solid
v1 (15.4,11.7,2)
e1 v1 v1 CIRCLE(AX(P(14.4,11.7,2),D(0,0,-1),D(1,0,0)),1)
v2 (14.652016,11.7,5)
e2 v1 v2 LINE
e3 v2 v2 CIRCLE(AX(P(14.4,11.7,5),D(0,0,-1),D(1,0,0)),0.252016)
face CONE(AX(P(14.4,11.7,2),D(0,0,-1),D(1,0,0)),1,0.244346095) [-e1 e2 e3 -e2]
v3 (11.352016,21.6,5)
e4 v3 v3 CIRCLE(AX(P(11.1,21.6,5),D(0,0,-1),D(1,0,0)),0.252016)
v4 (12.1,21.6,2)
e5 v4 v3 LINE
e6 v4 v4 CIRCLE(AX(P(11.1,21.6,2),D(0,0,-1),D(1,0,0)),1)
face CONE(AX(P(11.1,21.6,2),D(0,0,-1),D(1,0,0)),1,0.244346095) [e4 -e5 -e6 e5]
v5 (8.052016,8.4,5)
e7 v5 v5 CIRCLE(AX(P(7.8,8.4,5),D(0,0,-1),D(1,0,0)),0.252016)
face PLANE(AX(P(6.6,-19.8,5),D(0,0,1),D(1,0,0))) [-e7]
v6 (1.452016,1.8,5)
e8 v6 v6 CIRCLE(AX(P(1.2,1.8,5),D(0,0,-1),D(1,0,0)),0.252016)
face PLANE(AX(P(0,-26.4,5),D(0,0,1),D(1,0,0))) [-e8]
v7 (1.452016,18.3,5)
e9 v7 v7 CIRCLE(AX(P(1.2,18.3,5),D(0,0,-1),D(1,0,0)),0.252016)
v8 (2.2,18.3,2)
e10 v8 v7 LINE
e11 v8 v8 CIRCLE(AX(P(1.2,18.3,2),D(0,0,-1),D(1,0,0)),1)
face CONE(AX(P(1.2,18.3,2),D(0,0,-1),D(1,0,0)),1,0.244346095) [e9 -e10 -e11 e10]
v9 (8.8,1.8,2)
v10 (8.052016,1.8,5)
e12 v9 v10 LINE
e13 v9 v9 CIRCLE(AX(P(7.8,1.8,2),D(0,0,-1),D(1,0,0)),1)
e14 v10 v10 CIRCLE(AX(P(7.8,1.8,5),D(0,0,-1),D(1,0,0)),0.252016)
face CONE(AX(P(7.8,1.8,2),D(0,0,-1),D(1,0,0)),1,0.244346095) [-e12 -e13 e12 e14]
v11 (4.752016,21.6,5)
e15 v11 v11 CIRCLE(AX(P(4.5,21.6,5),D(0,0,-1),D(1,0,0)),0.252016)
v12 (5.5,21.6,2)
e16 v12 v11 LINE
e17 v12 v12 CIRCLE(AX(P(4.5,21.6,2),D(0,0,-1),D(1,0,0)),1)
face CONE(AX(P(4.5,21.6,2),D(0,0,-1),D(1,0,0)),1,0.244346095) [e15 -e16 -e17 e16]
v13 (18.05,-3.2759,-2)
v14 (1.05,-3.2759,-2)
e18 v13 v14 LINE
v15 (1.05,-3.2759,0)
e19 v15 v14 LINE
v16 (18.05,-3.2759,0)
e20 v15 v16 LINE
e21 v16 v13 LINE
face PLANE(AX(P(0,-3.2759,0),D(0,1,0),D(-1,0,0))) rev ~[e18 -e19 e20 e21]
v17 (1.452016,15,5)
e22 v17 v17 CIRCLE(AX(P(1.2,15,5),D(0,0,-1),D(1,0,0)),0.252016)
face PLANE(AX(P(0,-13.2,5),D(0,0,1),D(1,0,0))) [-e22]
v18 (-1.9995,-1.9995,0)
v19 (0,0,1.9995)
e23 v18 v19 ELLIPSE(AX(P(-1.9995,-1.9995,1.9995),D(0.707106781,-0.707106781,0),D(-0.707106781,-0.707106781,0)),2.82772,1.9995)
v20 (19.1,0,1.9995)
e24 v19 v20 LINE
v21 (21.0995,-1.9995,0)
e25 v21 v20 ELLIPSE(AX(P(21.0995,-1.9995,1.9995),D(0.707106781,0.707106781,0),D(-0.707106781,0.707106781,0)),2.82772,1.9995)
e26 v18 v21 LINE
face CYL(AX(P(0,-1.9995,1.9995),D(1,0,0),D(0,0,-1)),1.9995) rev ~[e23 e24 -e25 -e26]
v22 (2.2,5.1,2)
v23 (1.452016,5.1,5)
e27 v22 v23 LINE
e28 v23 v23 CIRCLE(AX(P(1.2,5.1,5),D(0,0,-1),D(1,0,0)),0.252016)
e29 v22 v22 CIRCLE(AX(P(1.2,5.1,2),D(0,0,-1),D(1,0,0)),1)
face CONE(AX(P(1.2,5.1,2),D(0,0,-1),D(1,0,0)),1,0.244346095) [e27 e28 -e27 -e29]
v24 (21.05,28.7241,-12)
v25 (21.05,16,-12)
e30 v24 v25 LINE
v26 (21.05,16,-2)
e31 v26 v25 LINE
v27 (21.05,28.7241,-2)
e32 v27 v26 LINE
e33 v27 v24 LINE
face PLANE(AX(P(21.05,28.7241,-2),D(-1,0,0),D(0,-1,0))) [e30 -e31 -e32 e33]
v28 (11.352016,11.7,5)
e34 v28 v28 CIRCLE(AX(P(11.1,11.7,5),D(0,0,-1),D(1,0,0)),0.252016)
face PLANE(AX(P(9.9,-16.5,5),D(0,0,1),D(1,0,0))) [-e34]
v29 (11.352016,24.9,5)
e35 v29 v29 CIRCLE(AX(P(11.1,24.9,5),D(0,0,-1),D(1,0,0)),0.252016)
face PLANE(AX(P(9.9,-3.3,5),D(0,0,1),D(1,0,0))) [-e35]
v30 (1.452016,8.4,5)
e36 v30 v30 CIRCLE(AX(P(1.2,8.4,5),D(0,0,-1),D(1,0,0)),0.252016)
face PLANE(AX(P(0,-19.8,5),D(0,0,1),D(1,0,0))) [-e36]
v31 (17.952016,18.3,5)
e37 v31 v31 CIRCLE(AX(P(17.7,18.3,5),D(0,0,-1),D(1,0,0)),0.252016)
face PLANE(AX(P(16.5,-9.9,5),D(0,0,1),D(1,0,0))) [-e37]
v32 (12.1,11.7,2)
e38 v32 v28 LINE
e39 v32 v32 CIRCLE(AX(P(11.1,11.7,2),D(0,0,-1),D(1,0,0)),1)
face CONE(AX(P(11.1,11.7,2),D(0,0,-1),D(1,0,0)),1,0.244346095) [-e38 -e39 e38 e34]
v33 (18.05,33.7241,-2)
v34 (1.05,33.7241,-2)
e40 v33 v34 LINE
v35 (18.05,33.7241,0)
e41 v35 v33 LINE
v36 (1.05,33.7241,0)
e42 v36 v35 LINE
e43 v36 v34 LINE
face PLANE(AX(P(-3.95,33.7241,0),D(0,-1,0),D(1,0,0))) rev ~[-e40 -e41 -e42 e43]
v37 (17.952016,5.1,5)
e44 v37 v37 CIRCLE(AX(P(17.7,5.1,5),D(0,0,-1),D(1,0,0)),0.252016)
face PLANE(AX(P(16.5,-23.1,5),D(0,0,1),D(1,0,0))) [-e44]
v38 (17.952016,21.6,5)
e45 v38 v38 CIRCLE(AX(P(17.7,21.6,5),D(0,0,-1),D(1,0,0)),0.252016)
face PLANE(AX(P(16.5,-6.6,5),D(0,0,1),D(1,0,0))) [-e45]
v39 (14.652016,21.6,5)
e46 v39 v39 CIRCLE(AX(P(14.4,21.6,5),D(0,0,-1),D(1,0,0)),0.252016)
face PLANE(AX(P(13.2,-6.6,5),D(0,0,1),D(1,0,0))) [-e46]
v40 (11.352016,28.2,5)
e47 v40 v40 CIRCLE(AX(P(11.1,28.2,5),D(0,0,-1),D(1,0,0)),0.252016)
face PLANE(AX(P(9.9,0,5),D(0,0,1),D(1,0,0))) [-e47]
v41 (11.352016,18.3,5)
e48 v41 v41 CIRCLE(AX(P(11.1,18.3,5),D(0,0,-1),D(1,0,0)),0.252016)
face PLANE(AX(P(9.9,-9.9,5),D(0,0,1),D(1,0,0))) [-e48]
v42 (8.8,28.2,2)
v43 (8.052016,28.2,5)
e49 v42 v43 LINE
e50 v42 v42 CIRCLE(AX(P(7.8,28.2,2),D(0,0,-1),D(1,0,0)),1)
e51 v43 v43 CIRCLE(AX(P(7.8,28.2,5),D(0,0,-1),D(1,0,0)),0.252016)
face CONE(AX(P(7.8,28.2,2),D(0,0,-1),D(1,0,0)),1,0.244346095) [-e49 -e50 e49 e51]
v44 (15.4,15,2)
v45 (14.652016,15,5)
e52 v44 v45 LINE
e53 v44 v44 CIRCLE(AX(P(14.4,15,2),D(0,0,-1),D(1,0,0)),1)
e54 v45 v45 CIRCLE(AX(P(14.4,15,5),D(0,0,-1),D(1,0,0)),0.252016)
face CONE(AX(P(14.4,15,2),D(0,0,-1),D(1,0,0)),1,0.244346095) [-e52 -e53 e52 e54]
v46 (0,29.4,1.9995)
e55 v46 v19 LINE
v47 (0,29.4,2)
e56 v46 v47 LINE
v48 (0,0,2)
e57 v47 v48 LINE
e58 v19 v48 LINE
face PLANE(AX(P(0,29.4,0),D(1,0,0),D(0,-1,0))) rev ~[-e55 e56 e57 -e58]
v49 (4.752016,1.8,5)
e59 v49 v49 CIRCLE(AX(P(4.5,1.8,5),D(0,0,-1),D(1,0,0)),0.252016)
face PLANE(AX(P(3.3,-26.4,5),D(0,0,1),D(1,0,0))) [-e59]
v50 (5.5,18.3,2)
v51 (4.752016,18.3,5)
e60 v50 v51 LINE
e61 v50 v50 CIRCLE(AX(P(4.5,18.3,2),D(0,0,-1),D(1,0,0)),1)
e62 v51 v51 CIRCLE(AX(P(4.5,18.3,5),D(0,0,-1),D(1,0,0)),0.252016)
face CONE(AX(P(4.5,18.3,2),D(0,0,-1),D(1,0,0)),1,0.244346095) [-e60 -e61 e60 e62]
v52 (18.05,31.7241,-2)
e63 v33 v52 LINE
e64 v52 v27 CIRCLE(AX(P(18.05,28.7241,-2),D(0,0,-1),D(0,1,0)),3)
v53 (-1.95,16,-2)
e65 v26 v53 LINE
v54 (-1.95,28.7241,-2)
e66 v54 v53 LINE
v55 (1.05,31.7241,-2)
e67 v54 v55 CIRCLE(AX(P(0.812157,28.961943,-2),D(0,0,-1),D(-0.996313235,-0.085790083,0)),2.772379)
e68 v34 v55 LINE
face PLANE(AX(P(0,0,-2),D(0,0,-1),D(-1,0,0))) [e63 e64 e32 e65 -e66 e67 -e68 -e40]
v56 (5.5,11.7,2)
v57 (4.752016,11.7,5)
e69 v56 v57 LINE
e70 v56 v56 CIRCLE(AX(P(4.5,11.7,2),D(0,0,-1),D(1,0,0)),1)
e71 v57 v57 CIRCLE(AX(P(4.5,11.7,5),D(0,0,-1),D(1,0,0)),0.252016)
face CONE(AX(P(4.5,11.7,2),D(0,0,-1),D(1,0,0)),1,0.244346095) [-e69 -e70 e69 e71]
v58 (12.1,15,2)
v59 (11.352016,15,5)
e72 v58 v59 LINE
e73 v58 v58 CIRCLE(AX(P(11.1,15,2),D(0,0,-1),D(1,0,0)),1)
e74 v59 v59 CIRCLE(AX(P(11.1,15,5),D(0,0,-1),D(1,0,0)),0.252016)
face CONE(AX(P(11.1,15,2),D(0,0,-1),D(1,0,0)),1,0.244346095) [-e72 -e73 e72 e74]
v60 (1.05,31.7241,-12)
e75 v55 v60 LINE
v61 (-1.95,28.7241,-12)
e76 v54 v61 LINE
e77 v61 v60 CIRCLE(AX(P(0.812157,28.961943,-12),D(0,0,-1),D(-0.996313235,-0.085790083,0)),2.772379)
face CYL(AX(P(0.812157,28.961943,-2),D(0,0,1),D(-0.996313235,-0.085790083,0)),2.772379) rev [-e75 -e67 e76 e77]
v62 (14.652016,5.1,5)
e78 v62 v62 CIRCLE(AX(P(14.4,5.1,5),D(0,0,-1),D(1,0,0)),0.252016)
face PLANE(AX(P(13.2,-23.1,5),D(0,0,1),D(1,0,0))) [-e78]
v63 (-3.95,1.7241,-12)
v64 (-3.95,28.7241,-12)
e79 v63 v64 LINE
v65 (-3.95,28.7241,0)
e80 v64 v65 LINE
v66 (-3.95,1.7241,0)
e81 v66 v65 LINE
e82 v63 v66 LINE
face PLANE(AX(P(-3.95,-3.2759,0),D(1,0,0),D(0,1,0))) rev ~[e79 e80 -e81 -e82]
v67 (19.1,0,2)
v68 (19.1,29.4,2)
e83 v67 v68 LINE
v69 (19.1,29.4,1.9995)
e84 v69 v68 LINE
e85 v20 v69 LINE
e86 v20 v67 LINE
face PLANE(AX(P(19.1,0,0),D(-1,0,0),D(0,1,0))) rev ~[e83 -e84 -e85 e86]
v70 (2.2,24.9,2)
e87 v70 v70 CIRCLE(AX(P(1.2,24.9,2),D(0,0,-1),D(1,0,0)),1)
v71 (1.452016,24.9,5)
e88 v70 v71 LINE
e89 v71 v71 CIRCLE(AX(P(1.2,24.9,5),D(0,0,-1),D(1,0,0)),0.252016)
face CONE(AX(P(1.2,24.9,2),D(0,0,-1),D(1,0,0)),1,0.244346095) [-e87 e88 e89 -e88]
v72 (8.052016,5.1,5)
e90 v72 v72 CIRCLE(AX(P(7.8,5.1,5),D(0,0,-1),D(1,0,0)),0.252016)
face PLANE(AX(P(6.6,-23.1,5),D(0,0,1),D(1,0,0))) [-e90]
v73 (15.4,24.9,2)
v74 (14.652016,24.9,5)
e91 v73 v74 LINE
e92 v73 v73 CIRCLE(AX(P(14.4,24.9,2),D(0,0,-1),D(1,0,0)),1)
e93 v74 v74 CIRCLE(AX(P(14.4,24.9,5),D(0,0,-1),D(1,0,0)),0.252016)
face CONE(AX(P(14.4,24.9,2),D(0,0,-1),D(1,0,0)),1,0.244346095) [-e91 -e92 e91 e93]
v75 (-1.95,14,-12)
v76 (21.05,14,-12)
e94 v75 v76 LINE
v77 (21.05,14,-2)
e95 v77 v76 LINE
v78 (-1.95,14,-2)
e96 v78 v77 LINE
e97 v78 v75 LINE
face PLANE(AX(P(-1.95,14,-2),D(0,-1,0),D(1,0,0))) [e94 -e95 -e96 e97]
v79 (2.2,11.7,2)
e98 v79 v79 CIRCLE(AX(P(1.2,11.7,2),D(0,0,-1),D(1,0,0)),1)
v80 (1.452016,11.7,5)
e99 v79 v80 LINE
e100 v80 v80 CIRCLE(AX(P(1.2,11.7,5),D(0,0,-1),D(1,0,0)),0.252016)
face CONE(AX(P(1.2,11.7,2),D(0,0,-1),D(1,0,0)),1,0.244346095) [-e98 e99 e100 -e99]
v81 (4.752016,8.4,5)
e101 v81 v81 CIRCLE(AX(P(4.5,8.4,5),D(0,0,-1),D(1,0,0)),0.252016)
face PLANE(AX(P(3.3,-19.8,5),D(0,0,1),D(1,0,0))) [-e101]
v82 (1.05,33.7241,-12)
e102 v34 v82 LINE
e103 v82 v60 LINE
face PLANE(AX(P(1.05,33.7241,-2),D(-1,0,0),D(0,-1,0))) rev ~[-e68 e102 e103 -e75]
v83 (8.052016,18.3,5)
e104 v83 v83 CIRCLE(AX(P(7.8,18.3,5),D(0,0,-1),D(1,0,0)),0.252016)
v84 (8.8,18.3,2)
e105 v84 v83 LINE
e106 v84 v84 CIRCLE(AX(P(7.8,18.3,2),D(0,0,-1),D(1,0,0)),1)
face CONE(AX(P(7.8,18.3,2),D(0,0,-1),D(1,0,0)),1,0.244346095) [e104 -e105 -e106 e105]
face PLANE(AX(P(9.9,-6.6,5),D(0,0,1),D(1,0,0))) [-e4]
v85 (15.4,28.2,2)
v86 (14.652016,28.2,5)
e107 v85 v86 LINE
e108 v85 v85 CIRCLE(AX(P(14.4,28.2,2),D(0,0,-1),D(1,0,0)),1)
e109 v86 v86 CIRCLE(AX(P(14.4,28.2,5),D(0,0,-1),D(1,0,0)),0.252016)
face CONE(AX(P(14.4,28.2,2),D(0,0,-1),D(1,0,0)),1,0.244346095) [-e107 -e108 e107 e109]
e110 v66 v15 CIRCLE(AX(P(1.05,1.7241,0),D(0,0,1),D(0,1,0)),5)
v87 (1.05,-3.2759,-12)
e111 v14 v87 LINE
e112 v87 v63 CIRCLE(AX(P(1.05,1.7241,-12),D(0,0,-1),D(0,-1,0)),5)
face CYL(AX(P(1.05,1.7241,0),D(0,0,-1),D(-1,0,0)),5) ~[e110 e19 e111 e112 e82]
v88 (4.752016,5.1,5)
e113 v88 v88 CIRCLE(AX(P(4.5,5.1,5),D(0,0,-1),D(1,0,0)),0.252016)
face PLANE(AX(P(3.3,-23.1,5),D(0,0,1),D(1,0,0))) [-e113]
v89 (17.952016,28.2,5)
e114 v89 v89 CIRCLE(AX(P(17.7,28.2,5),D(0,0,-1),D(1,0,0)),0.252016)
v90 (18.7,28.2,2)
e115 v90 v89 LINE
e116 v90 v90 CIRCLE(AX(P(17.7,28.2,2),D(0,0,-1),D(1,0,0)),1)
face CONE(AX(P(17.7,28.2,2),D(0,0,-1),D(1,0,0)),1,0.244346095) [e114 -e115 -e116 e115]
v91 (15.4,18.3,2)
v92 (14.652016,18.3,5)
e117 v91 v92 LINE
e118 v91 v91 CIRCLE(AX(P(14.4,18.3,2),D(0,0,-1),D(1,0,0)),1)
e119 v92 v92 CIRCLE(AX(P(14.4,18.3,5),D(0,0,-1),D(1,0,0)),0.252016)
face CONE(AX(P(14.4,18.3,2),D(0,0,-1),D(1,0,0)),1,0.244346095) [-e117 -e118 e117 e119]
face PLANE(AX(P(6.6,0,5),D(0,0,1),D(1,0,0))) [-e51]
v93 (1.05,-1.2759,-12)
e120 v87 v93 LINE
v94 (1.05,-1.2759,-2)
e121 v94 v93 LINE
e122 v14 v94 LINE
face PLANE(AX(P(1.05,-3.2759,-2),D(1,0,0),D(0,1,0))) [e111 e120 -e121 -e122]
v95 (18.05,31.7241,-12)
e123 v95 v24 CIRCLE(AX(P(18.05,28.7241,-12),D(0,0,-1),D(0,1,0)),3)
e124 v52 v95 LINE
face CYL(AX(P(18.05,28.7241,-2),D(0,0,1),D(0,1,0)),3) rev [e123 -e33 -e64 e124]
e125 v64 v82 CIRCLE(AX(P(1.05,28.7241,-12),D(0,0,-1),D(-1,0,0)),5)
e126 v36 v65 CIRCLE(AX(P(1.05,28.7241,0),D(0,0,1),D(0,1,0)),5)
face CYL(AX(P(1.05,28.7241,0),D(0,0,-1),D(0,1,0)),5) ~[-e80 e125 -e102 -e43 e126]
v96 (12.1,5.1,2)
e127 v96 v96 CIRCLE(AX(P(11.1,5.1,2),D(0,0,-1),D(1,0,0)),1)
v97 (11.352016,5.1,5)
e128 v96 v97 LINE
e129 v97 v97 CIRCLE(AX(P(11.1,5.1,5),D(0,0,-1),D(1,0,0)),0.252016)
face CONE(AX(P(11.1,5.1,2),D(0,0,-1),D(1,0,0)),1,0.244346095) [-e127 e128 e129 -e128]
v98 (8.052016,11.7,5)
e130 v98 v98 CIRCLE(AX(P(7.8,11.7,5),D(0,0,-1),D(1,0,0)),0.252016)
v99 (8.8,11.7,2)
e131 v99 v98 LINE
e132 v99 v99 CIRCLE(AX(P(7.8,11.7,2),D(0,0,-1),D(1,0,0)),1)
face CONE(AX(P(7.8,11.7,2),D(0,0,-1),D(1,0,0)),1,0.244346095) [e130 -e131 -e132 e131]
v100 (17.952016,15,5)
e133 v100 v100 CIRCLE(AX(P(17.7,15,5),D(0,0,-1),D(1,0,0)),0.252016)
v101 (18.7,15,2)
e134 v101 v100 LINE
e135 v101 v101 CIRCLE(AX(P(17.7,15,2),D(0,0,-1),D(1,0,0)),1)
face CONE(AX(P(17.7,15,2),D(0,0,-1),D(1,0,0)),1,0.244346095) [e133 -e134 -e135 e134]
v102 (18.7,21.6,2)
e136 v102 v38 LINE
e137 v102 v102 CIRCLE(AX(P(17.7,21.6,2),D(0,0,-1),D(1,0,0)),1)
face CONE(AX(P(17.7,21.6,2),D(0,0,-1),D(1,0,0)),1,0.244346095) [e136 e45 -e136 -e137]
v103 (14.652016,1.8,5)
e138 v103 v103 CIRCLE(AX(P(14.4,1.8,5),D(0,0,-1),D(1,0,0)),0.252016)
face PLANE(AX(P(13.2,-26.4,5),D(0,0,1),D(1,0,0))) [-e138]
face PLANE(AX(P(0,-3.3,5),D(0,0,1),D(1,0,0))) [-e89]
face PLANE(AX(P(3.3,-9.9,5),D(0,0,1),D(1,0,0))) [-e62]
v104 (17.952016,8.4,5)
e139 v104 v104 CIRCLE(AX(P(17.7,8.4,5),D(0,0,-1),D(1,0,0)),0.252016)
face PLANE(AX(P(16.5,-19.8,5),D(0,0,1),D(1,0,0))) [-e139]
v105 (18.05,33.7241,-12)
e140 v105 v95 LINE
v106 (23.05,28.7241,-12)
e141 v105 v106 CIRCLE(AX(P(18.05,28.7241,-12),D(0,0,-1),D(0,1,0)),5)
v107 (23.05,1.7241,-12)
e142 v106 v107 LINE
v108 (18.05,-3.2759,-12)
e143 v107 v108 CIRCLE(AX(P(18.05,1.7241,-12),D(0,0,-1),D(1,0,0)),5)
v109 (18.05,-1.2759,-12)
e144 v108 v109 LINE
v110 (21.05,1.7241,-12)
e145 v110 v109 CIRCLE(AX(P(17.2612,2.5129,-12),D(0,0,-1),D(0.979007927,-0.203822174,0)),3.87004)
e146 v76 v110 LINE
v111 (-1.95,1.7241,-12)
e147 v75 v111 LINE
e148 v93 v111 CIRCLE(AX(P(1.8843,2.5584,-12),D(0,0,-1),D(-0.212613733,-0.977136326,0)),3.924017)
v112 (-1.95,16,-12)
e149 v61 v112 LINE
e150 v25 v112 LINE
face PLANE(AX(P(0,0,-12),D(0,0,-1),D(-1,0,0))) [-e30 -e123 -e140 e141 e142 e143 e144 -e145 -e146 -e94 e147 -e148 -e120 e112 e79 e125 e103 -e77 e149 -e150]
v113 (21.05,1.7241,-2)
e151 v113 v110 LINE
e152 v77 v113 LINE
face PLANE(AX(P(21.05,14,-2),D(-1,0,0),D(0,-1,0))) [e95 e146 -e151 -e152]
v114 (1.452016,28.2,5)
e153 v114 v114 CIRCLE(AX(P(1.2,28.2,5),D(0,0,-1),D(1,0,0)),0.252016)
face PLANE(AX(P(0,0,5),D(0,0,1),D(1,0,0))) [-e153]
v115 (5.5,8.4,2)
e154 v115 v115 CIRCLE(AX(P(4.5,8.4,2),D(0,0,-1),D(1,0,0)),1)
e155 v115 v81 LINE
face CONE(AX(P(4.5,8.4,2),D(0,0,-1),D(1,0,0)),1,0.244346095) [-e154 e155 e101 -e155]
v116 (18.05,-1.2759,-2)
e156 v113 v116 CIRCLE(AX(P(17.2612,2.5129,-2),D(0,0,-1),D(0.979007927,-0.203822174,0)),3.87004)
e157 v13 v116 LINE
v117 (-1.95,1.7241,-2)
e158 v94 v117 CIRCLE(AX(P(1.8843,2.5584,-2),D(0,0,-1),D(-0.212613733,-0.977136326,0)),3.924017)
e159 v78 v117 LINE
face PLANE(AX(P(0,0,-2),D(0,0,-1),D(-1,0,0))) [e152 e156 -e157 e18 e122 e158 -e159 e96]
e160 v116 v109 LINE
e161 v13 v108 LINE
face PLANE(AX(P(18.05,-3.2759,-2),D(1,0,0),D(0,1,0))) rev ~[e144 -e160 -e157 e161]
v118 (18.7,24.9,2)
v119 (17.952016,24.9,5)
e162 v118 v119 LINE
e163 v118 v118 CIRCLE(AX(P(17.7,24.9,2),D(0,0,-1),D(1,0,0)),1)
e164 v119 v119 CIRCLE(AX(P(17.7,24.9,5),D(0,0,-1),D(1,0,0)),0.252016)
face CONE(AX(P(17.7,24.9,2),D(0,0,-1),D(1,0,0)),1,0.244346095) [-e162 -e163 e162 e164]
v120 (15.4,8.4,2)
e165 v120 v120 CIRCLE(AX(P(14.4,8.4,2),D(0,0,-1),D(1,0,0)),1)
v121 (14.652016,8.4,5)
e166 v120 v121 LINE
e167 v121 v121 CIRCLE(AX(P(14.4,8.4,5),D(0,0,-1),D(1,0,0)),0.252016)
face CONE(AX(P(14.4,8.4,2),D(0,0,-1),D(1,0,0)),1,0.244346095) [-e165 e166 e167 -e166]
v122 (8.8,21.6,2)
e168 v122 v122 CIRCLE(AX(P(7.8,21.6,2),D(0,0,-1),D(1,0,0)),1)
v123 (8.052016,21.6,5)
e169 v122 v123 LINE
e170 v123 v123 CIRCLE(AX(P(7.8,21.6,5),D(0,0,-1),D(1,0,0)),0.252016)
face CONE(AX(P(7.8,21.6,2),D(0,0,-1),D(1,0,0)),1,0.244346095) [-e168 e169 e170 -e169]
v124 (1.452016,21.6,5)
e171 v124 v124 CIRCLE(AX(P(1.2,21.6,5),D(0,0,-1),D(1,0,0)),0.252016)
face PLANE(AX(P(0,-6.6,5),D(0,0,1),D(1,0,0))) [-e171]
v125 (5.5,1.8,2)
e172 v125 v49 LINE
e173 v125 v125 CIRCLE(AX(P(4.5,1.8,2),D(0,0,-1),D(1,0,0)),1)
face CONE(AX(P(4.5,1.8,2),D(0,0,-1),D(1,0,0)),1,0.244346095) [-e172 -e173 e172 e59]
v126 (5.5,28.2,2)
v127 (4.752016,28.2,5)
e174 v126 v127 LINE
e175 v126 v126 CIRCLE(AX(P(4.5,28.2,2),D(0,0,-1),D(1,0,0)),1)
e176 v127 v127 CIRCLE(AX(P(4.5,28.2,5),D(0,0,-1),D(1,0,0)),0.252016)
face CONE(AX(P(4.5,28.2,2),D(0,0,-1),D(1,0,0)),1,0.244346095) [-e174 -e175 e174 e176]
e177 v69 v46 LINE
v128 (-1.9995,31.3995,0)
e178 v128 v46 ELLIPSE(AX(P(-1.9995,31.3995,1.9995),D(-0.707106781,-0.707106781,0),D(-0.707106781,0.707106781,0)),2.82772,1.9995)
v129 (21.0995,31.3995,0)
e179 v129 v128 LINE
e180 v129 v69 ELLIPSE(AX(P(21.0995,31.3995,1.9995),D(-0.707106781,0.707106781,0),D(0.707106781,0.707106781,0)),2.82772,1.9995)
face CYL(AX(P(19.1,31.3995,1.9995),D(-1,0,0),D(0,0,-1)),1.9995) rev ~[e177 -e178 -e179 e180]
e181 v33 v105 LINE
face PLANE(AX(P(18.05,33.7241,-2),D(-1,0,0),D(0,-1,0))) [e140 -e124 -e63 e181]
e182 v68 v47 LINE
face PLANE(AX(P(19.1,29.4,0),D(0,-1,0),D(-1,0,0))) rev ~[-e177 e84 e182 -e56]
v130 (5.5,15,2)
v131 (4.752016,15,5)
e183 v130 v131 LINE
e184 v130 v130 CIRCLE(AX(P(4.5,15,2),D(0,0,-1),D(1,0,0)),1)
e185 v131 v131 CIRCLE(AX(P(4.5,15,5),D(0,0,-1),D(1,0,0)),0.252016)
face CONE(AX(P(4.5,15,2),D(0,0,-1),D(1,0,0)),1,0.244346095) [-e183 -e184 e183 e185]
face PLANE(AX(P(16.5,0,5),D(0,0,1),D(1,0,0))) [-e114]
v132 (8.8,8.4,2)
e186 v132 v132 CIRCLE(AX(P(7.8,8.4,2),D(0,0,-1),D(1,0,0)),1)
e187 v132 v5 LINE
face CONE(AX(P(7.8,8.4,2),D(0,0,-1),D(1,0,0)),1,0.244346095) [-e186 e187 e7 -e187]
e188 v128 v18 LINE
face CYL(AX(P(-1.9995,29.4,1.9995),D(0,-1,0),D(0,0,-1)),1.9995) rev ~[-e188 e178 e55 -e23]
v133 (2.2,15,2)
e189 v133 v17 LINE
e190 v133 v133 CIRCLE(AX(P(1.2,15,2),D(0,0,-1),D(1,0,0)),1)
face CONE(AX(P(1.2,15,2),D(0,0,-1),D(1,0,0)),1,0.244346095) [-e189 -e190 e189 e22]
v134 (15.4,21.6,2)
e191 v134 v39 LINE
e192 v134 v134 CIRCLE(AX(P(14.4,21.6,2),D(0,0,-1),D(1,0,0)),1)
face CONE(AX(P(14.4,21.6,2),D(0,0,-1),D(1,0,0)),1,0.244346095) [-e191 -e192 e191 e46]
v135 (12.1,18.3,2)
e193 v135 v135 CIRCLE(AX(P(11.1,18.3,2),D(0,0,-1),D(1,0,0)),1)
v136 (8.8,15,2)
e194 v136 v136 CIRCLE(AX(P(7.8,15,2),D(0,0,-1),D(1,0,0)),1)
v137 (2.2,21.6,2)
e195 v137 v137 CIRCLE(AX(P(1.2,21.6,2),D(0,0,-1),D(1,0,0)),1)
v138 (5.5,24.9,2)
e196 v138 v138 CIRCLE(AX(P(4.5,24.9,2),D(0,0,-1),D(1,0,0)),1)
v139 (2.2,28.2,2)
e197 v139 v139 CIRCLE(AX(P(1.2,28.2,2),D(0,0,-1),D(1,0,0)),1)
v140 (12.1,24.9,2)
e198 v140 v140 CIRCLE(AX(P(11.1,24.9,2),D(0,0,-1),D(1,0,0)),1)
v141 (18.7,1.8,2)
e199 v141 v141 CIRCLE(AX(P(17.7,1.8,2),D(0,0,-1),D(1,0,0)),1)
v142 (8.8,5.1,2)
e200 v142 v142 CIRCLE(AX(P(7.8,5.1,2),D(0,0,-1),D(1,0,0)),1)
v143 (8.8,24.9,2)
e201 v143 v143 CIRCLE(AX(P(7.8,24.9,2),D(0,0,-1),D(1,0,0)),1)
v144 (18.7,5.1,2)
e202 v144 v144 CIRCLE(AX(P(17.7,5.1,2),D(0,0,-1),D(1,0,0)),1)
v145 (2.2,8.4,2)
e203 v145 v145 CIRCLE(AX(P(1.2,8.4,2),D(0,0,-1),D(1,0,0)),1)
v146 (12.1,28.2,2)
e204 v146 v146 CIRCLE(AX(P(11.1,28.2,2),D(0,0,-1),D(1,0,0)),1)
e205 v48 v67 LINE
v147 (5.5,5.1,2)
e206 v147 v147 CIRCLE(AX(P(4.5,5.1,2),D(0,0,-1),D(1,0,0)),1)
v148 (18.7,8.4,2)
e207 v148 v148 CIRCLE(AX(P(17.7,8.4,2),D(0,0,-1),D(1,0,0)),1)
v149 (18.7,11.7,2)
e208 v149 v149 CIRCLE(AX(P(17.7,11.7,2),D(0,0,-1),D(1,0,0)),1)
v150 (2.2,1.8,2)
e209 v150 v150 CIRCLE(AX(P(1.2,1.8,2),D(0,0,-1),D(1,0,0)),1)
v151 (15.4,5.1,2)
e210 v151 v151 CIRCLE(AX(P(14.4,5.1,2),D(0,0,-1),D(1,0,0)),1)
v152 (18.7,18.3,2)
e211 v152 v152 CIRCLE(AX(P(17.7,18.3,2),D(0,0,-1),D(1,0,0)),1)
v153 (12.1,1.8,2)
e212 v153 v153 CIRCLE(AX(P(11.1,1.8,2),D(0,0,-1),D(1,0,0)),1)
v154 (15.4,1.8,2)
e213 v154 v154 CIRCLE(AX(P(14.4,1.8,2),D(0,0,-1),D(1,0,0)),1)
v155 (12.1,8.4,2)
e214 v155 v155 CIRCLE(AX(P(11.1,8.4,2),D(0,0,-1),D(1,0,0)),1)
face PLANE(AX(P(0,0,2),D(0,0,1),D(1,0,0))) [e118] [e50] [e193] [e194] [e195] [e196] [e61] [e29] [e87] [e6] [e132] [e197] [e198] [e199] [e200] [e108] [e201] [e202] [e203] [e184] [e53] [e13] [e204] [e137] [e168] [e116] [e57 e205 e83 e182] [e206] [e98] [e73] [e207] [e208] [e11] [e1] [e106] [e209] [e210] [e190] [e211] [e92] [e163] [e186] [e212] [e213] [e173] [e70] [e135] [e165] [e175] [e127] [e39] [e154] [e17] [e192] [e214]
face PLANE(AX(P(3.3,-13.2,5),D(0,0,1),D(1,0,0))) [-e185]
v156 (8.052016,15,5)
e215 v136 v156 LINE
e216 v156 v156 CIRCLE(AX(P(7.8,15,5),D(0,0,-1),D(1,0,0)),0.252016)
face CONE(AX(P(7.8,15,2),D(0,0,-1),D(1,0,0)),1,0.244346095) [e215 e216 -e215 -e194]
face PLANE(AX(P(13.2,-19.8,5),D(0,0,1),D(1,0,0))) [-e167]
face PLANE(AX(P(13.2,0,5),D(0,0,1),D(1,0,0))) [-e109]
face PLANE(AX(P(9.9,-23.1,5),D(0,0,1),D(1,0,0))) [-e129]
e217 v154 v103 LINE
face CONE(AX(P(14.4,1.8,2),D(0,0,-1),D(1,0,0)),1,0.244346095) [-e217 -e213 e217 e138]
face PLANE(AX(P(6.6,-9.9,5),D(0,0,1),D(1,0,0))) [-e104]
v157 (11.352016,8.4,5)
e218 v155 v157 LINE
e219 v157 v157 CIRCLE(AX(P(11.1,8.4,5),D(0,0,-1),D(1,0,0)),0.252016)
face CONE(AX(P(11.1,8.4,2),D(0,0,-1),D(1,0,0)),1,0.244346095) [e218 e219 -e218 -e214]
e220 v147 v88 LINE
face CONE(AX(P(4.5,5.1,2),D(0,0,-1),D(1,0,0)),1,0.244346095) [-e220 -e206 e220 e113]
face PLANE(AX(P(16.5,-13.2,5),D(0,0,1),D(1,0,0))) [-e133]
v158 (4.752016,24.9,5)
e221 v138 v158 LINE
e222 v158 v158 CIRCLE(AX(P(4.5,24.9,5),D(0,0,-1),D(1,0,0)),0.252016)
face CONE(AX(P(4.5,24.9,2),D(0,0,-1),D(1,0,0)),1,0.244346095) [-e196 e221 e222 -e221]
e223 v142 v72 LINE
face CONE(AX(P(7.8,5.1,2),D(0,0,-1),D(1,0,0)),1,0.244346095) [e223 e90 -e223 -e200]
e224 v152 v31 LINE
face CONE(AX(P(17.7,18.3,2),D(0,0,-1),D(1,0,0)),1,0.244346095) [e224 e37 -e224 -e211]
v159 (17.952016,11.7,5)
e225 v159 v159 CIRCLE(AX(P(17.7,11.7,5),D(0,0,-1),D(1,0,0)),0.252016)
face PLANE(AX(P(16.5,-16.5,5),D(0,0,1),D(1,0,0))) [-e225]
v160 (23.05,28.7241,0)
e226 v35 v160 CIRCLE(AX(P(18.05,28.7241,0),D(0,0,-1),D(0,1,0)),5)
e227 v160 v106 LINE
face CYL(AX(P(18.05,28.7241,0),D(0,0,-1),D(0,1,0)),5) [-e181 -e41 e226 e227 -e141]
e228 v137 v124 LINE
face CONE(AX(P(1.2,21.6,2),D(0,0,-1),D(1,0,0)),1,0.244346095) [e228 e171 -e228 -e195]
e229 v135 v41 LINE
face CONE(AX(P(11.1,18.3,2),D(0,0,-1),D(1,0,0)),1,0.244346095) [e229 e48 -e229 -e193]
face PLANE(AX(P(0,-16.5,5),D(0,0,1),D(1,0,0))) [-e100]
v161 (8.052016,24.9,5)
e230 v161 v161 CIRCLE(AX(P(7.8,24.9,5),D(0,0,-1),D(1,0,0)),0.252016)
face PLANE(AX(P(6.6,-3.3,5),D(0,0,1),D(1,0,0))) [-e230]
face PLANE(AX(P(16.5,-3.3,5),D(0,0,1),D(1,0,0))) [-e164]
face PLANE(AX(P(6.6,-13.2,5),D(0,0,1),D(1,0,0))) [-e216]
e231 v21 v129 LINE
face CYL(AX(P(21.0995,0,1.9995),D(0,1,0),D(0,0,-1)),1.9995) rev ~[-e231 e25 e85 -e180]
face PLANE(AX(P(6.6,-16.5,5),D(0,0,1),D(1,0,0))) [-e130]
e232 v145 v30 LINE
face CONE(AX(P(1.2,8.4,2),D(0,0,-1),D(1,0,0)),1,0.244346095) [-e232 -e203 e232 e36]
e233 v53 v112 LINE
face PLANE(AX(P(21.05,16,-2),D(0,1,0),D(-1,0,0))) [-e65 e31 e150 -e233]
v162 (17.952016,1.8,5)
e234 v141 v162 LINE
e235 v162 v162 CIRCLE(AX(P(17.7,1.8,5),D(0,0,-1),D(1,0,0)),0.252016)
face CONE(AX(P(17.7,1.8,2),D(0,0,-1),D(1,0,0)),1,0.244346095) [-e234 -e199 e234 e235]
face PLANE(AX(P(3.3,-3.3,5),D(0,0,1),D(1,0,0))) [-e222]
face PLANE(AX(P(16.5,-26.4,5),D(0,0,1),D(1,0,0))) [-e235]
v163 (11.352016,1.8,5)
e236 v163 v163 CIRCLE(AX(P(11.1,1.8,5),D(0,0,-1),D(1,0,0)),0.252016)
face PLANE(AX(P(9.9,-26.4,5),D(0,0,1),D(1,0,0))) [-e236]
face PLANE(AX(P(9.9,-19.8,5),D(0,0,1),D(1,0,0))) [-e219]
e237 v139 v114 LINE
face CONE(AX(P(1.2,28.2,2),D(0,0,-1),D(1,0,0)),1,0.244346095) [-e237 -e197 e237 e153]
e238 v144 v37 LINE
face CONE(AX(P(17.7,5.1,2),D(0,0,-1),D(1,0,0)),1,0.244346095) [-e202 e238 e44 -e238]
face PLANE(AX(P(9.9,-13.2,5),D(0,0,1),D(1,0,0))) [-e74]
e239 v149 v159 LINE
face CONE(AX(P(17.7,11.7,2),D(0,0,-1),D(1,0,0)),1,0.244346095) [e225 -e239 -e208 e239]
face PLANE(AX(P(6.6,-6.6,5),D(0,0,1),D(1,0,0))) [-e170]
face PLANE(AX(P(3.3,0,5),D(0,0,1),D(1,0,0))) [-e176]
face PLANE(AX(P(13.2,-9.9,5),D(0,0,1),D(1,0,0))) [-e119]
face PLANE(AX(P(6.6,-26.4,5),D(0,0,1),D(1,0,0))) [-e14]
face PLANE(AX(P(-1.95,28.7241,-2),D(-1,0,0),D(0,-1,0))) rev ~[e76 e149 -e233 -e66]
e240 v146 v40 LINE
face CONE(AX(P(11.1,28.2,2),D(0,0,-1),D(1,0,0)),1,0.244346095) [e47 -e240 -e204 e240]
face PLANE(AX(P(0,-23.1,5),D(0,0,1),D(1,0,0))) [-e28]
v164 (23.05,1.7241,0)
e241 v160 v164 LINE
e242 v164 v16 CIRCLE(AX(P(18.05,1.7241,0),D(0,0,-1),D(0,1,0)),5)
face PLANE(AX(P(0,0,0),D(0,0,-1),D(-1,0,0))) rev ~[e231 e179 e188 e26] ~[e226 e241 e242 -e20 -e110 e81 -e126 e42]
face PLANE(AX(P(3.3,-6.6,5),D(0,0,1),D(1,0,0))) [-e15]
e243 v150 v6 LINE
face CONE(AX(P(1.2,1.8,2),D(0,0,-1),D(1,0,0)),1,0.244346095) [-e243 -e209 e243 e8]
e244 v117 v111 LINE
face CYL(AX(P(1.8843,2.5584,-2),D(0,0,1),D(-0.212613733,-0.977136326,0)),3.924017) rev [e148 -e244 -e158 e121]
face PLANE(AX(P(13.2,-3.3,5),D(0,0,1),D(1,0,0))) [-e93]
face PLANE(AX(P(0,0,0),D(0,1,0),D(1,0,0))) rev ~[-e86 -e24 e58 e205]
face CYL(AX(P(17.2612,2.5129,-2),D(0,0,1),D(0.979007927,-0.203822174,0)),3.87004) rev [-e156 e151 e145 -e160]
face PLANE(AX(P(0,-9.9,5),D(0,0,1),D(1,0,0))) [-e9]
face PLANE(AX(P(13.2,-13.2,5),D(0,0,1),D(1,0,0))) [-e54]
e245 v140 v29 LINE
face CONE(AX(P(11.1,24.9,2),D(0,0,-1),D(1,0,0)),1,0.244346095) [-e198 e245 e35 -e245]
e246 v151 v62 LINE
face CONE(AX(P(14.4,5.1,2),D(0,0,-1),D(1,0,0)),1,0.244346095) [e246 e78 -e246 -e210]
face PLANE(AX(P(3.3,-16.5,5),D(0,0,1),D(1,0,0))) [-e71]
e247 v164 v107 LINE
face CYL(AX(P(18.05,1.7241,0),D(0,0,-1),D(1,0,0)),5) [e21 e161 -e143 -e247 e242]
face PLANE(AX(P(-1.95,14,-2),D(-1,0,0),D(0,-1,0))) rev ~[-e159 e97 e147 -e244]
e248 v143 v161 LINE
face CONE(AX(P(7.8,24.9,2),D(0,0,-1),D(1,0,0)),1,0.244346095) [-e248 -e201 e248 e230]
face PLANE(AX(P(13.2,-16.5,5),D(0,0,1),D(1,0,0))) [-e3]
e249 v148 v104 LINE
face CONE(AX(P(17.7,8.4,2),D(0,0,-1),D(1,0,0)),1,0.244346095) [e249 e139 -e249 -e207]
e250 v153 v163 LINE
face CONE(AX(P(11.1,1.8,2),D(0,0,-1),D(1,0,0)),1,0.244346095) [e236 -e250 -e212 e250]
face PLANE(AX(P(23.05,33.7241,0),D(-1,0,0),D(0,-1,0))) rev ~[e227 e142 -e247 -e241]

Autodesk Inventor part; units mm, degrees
ref_plane "YZ Plane" through (0, 0, 0) normal (1, 0, 0) x (0, 1, 0)
sketch "Sketch1" plane through (0, 0, 0) normal (0, 0, 1) x (1, 0, 0)
  line L0 (0, 0) -> (19.1, 0)
  line L1 (19.1, 0) -> (19.1, 29.4)
  line L2 (19.1, 29.4) -> (0, 29.4)
  line L3 (0, 29.4) -> (0, 0)
  dimension "d0" = 19.1
  dimension "d1" = 29.4
extrude "Extrusion1" add sketch "Sketch1" along normal blind 2
sketch "Sketch2" plane through (0, 0, 2) normal (0, 0, 1) x (1, 0, 0)
  line L0 (0, 29.4) -> (0, 0) projected
  circle A0 centre (1.2, 28.2) radius 1
  line L1 (19.1, 29.4) -> (0, 29.4) projected
  dimension "d6" = 2
  dimension "d7" = 1.2
  dimension "d8" = 1.2
ref_plane "Work Plane1" through (0, 0, 5) normal (0, 0, 1) x (1, 0, 0)
ref_plane "Work Plane2" through (0, 0, 4.5) normal (0, 0, 1) x (1, 0, 0)
extrude "Extrusion3" add sketch "Sketch2" along normal blind 3 draft -14
pattern_linear "Rectangular Pattern1" count 6 spacing 3.3 along (1, 0, 0) count 9 spacing 3.3 along (0, -1, 0) of "Extrusion3"
sketch "Sketch6" plane through (0, 0, 0) normal (0, 0, -1) x (-1, 0, 0)
  line L0 (0, 29.4) -> (0, 0) projected
  line L1 (0, 15.2241) -> (0, -3.2759)
  line L2 (0, -3.2759) -> (-19.1, -3.2759)
  line L3 (-19.1, 0) -> (-19.1, 29.4) projected
  line L4 (-19.1, -3.2759) -> (-19.1, 33.7241)
  line L5 (-19.1, 33.7241) -> (0, 33.7241)
  line L6 (0, 33.7241) -> (0, -3.2759)
  line L7 (-9.55, -3.2759) -> (3.95, -3.2759)
  line L8 (3.95, -3.2759) -> (3.95, 33.7241)
  line L9 (3.95, 33.7241) -> (-23.05, 33.7241)
  line L10 (-23.05, 33.7241) -> (-23.05, -3.2759)
  line L11 (-23.05, -3.2759) -> (-19.1, -3.2759)
  dimension "d41" = 13.5
  dimension "d42" = 27
extrude "Extrusion4" add sketch "Sketch6" along normal blind 2
fillet "Fillet3" radius 5 4 edges at (23.05, -3.2759, -1) (-3.95, -3.2759, -1) (23.05, 33.7241, -1) (-3.95, 33.7241, -1)
sketch "Sketch8" plane through (0, 0, -2) normal (0, 0, -1) x (-1, 0, 0)
  line L0 (3.95, 1.7241) -> (3.95, 28.7241) projected
  line L1 (3.95, 28.7241) -> (1.95, 28.7241)
  line L2 (1.95, 28.7241) -> (1.95, 1.7241)
  arc A0 (-1.05, -3.2759) -> (3.95, 1.7241) centre (-1.05, 1.7241) ccw projected
  line L3 (1.95, 1.7241) -> (3.95, 1.7241)
  line L4 (3.95, 1.7241) -> (3.95, 28.7241)
  line L5 (-23.05, 28.7241) -> (-23.05, 1.7241) projected
  line L6 (-23.05, 28.7241) -> (-21.05, 28.7241)
  line L7 (-21.05, 28.7241) -> (-21.05, 1.7241)
  line L8 (-21.05, 1.7241) -> (-23.05, 1.7241)
  line L9 (-23.05, 1.7241) -> (-23.05, 28.7241)
  line L10 (1.95, 15) -> (1.95, 14)
  line L11 (1.95, 14) -> (-21.05, 14)
  line L12 (-21.05, 14) -> (-21.05, 16)
  line L13 (-21.05, 16) -> (1.95, 16)
  line L14 (1.95, 15) -> (1.95, 16)
  line L15 (-18.05, -3.2759) -> (-1.05, -3.2759) projected
  line L16 (3.95, 1.7241) -> (3.95, 28.7241) projected
  arc A1 (-1.05, -3.2759) -> (3.95, 1.7241) centre (-1.05, 1.7241) ccw
  line L17 (-1.05, -3.2759) -> (-1.05, -1.2759)
  arc A2 (-1.05, -1.2759) -> (1.95, 1.7241) centre (-1.8843, 2.5584) ccw
  arc A3 (3.95, 28.7241) -> (-1.05, 33.7241) centre (-1.05, 28.7241) ccw projected
  arc A4 (3.95, 28.7241) -> (-1.05, 33.7241) centre (-1.05, 28.7241) ccw
  line L18 (-1.05, 33.7241) -> (-1.05, 31.7241)
  arc A5 (1.95, 28.7241) -> (-1.05, 31.7241) centre (-0.812, 28.962) ccw
  arc A6 (-18.05, 33.7241) -> (-23.05, 28.7241) centre (-18.05, 28.7241) ccw projected
  arc A7 (-18.05, 33.7241) -> (-23.05, 28.7241) centre (-18.05, 28.7241) ccw
  line L19 (-1.05, 33.7241) -> (-18.05, 33.7241) projected
  line L20 (-18.05, 33.7241) -> (-18.05, 31.7241)
  arc A8 (-18.05, 31.7241) -> (-21.05, 28.7241) centre (-18.05, 28.7241) ccw
  arc A9 (-23.05, 1.7241) -> (-18.05, -3.2759) centre (-18.05, 1.7241) ccw
  line L21 (-18.05, -3.2759) -> (-18.05, -1.2759)
  arc A10 (-21.05, 1.7241) -> (-18.05, -1.2759) centre (-17.2612, 2.5129) ccw
  point P0 (0, 0)
  dimension "d48" = 2
  dimension "d49" = 2
  dimension "d50" = 2
  dimension "d53" = 2
  dimension "d54" = 2
  dimension "d55" = 2
extrude "Extrusion5" add sketch "Sketch8" along normal blind 10 contours L3 L2 L1 L0 | A0 L17 A2 L3 | L1 A5 L18 A3 | A9 L8 A10 L21 | L11 L7 L13 L2 | L20 A8 L6 A6 | L5 L6 L7 L8
fillet "Fillet4" radius 2 4 edges at (19.1, 14.7, 0) (9.55, 29.4, 0) (0, 14.7, 0) (9.55, 0, 0)
properties part number "Mold_equalSpacing_2mm"
